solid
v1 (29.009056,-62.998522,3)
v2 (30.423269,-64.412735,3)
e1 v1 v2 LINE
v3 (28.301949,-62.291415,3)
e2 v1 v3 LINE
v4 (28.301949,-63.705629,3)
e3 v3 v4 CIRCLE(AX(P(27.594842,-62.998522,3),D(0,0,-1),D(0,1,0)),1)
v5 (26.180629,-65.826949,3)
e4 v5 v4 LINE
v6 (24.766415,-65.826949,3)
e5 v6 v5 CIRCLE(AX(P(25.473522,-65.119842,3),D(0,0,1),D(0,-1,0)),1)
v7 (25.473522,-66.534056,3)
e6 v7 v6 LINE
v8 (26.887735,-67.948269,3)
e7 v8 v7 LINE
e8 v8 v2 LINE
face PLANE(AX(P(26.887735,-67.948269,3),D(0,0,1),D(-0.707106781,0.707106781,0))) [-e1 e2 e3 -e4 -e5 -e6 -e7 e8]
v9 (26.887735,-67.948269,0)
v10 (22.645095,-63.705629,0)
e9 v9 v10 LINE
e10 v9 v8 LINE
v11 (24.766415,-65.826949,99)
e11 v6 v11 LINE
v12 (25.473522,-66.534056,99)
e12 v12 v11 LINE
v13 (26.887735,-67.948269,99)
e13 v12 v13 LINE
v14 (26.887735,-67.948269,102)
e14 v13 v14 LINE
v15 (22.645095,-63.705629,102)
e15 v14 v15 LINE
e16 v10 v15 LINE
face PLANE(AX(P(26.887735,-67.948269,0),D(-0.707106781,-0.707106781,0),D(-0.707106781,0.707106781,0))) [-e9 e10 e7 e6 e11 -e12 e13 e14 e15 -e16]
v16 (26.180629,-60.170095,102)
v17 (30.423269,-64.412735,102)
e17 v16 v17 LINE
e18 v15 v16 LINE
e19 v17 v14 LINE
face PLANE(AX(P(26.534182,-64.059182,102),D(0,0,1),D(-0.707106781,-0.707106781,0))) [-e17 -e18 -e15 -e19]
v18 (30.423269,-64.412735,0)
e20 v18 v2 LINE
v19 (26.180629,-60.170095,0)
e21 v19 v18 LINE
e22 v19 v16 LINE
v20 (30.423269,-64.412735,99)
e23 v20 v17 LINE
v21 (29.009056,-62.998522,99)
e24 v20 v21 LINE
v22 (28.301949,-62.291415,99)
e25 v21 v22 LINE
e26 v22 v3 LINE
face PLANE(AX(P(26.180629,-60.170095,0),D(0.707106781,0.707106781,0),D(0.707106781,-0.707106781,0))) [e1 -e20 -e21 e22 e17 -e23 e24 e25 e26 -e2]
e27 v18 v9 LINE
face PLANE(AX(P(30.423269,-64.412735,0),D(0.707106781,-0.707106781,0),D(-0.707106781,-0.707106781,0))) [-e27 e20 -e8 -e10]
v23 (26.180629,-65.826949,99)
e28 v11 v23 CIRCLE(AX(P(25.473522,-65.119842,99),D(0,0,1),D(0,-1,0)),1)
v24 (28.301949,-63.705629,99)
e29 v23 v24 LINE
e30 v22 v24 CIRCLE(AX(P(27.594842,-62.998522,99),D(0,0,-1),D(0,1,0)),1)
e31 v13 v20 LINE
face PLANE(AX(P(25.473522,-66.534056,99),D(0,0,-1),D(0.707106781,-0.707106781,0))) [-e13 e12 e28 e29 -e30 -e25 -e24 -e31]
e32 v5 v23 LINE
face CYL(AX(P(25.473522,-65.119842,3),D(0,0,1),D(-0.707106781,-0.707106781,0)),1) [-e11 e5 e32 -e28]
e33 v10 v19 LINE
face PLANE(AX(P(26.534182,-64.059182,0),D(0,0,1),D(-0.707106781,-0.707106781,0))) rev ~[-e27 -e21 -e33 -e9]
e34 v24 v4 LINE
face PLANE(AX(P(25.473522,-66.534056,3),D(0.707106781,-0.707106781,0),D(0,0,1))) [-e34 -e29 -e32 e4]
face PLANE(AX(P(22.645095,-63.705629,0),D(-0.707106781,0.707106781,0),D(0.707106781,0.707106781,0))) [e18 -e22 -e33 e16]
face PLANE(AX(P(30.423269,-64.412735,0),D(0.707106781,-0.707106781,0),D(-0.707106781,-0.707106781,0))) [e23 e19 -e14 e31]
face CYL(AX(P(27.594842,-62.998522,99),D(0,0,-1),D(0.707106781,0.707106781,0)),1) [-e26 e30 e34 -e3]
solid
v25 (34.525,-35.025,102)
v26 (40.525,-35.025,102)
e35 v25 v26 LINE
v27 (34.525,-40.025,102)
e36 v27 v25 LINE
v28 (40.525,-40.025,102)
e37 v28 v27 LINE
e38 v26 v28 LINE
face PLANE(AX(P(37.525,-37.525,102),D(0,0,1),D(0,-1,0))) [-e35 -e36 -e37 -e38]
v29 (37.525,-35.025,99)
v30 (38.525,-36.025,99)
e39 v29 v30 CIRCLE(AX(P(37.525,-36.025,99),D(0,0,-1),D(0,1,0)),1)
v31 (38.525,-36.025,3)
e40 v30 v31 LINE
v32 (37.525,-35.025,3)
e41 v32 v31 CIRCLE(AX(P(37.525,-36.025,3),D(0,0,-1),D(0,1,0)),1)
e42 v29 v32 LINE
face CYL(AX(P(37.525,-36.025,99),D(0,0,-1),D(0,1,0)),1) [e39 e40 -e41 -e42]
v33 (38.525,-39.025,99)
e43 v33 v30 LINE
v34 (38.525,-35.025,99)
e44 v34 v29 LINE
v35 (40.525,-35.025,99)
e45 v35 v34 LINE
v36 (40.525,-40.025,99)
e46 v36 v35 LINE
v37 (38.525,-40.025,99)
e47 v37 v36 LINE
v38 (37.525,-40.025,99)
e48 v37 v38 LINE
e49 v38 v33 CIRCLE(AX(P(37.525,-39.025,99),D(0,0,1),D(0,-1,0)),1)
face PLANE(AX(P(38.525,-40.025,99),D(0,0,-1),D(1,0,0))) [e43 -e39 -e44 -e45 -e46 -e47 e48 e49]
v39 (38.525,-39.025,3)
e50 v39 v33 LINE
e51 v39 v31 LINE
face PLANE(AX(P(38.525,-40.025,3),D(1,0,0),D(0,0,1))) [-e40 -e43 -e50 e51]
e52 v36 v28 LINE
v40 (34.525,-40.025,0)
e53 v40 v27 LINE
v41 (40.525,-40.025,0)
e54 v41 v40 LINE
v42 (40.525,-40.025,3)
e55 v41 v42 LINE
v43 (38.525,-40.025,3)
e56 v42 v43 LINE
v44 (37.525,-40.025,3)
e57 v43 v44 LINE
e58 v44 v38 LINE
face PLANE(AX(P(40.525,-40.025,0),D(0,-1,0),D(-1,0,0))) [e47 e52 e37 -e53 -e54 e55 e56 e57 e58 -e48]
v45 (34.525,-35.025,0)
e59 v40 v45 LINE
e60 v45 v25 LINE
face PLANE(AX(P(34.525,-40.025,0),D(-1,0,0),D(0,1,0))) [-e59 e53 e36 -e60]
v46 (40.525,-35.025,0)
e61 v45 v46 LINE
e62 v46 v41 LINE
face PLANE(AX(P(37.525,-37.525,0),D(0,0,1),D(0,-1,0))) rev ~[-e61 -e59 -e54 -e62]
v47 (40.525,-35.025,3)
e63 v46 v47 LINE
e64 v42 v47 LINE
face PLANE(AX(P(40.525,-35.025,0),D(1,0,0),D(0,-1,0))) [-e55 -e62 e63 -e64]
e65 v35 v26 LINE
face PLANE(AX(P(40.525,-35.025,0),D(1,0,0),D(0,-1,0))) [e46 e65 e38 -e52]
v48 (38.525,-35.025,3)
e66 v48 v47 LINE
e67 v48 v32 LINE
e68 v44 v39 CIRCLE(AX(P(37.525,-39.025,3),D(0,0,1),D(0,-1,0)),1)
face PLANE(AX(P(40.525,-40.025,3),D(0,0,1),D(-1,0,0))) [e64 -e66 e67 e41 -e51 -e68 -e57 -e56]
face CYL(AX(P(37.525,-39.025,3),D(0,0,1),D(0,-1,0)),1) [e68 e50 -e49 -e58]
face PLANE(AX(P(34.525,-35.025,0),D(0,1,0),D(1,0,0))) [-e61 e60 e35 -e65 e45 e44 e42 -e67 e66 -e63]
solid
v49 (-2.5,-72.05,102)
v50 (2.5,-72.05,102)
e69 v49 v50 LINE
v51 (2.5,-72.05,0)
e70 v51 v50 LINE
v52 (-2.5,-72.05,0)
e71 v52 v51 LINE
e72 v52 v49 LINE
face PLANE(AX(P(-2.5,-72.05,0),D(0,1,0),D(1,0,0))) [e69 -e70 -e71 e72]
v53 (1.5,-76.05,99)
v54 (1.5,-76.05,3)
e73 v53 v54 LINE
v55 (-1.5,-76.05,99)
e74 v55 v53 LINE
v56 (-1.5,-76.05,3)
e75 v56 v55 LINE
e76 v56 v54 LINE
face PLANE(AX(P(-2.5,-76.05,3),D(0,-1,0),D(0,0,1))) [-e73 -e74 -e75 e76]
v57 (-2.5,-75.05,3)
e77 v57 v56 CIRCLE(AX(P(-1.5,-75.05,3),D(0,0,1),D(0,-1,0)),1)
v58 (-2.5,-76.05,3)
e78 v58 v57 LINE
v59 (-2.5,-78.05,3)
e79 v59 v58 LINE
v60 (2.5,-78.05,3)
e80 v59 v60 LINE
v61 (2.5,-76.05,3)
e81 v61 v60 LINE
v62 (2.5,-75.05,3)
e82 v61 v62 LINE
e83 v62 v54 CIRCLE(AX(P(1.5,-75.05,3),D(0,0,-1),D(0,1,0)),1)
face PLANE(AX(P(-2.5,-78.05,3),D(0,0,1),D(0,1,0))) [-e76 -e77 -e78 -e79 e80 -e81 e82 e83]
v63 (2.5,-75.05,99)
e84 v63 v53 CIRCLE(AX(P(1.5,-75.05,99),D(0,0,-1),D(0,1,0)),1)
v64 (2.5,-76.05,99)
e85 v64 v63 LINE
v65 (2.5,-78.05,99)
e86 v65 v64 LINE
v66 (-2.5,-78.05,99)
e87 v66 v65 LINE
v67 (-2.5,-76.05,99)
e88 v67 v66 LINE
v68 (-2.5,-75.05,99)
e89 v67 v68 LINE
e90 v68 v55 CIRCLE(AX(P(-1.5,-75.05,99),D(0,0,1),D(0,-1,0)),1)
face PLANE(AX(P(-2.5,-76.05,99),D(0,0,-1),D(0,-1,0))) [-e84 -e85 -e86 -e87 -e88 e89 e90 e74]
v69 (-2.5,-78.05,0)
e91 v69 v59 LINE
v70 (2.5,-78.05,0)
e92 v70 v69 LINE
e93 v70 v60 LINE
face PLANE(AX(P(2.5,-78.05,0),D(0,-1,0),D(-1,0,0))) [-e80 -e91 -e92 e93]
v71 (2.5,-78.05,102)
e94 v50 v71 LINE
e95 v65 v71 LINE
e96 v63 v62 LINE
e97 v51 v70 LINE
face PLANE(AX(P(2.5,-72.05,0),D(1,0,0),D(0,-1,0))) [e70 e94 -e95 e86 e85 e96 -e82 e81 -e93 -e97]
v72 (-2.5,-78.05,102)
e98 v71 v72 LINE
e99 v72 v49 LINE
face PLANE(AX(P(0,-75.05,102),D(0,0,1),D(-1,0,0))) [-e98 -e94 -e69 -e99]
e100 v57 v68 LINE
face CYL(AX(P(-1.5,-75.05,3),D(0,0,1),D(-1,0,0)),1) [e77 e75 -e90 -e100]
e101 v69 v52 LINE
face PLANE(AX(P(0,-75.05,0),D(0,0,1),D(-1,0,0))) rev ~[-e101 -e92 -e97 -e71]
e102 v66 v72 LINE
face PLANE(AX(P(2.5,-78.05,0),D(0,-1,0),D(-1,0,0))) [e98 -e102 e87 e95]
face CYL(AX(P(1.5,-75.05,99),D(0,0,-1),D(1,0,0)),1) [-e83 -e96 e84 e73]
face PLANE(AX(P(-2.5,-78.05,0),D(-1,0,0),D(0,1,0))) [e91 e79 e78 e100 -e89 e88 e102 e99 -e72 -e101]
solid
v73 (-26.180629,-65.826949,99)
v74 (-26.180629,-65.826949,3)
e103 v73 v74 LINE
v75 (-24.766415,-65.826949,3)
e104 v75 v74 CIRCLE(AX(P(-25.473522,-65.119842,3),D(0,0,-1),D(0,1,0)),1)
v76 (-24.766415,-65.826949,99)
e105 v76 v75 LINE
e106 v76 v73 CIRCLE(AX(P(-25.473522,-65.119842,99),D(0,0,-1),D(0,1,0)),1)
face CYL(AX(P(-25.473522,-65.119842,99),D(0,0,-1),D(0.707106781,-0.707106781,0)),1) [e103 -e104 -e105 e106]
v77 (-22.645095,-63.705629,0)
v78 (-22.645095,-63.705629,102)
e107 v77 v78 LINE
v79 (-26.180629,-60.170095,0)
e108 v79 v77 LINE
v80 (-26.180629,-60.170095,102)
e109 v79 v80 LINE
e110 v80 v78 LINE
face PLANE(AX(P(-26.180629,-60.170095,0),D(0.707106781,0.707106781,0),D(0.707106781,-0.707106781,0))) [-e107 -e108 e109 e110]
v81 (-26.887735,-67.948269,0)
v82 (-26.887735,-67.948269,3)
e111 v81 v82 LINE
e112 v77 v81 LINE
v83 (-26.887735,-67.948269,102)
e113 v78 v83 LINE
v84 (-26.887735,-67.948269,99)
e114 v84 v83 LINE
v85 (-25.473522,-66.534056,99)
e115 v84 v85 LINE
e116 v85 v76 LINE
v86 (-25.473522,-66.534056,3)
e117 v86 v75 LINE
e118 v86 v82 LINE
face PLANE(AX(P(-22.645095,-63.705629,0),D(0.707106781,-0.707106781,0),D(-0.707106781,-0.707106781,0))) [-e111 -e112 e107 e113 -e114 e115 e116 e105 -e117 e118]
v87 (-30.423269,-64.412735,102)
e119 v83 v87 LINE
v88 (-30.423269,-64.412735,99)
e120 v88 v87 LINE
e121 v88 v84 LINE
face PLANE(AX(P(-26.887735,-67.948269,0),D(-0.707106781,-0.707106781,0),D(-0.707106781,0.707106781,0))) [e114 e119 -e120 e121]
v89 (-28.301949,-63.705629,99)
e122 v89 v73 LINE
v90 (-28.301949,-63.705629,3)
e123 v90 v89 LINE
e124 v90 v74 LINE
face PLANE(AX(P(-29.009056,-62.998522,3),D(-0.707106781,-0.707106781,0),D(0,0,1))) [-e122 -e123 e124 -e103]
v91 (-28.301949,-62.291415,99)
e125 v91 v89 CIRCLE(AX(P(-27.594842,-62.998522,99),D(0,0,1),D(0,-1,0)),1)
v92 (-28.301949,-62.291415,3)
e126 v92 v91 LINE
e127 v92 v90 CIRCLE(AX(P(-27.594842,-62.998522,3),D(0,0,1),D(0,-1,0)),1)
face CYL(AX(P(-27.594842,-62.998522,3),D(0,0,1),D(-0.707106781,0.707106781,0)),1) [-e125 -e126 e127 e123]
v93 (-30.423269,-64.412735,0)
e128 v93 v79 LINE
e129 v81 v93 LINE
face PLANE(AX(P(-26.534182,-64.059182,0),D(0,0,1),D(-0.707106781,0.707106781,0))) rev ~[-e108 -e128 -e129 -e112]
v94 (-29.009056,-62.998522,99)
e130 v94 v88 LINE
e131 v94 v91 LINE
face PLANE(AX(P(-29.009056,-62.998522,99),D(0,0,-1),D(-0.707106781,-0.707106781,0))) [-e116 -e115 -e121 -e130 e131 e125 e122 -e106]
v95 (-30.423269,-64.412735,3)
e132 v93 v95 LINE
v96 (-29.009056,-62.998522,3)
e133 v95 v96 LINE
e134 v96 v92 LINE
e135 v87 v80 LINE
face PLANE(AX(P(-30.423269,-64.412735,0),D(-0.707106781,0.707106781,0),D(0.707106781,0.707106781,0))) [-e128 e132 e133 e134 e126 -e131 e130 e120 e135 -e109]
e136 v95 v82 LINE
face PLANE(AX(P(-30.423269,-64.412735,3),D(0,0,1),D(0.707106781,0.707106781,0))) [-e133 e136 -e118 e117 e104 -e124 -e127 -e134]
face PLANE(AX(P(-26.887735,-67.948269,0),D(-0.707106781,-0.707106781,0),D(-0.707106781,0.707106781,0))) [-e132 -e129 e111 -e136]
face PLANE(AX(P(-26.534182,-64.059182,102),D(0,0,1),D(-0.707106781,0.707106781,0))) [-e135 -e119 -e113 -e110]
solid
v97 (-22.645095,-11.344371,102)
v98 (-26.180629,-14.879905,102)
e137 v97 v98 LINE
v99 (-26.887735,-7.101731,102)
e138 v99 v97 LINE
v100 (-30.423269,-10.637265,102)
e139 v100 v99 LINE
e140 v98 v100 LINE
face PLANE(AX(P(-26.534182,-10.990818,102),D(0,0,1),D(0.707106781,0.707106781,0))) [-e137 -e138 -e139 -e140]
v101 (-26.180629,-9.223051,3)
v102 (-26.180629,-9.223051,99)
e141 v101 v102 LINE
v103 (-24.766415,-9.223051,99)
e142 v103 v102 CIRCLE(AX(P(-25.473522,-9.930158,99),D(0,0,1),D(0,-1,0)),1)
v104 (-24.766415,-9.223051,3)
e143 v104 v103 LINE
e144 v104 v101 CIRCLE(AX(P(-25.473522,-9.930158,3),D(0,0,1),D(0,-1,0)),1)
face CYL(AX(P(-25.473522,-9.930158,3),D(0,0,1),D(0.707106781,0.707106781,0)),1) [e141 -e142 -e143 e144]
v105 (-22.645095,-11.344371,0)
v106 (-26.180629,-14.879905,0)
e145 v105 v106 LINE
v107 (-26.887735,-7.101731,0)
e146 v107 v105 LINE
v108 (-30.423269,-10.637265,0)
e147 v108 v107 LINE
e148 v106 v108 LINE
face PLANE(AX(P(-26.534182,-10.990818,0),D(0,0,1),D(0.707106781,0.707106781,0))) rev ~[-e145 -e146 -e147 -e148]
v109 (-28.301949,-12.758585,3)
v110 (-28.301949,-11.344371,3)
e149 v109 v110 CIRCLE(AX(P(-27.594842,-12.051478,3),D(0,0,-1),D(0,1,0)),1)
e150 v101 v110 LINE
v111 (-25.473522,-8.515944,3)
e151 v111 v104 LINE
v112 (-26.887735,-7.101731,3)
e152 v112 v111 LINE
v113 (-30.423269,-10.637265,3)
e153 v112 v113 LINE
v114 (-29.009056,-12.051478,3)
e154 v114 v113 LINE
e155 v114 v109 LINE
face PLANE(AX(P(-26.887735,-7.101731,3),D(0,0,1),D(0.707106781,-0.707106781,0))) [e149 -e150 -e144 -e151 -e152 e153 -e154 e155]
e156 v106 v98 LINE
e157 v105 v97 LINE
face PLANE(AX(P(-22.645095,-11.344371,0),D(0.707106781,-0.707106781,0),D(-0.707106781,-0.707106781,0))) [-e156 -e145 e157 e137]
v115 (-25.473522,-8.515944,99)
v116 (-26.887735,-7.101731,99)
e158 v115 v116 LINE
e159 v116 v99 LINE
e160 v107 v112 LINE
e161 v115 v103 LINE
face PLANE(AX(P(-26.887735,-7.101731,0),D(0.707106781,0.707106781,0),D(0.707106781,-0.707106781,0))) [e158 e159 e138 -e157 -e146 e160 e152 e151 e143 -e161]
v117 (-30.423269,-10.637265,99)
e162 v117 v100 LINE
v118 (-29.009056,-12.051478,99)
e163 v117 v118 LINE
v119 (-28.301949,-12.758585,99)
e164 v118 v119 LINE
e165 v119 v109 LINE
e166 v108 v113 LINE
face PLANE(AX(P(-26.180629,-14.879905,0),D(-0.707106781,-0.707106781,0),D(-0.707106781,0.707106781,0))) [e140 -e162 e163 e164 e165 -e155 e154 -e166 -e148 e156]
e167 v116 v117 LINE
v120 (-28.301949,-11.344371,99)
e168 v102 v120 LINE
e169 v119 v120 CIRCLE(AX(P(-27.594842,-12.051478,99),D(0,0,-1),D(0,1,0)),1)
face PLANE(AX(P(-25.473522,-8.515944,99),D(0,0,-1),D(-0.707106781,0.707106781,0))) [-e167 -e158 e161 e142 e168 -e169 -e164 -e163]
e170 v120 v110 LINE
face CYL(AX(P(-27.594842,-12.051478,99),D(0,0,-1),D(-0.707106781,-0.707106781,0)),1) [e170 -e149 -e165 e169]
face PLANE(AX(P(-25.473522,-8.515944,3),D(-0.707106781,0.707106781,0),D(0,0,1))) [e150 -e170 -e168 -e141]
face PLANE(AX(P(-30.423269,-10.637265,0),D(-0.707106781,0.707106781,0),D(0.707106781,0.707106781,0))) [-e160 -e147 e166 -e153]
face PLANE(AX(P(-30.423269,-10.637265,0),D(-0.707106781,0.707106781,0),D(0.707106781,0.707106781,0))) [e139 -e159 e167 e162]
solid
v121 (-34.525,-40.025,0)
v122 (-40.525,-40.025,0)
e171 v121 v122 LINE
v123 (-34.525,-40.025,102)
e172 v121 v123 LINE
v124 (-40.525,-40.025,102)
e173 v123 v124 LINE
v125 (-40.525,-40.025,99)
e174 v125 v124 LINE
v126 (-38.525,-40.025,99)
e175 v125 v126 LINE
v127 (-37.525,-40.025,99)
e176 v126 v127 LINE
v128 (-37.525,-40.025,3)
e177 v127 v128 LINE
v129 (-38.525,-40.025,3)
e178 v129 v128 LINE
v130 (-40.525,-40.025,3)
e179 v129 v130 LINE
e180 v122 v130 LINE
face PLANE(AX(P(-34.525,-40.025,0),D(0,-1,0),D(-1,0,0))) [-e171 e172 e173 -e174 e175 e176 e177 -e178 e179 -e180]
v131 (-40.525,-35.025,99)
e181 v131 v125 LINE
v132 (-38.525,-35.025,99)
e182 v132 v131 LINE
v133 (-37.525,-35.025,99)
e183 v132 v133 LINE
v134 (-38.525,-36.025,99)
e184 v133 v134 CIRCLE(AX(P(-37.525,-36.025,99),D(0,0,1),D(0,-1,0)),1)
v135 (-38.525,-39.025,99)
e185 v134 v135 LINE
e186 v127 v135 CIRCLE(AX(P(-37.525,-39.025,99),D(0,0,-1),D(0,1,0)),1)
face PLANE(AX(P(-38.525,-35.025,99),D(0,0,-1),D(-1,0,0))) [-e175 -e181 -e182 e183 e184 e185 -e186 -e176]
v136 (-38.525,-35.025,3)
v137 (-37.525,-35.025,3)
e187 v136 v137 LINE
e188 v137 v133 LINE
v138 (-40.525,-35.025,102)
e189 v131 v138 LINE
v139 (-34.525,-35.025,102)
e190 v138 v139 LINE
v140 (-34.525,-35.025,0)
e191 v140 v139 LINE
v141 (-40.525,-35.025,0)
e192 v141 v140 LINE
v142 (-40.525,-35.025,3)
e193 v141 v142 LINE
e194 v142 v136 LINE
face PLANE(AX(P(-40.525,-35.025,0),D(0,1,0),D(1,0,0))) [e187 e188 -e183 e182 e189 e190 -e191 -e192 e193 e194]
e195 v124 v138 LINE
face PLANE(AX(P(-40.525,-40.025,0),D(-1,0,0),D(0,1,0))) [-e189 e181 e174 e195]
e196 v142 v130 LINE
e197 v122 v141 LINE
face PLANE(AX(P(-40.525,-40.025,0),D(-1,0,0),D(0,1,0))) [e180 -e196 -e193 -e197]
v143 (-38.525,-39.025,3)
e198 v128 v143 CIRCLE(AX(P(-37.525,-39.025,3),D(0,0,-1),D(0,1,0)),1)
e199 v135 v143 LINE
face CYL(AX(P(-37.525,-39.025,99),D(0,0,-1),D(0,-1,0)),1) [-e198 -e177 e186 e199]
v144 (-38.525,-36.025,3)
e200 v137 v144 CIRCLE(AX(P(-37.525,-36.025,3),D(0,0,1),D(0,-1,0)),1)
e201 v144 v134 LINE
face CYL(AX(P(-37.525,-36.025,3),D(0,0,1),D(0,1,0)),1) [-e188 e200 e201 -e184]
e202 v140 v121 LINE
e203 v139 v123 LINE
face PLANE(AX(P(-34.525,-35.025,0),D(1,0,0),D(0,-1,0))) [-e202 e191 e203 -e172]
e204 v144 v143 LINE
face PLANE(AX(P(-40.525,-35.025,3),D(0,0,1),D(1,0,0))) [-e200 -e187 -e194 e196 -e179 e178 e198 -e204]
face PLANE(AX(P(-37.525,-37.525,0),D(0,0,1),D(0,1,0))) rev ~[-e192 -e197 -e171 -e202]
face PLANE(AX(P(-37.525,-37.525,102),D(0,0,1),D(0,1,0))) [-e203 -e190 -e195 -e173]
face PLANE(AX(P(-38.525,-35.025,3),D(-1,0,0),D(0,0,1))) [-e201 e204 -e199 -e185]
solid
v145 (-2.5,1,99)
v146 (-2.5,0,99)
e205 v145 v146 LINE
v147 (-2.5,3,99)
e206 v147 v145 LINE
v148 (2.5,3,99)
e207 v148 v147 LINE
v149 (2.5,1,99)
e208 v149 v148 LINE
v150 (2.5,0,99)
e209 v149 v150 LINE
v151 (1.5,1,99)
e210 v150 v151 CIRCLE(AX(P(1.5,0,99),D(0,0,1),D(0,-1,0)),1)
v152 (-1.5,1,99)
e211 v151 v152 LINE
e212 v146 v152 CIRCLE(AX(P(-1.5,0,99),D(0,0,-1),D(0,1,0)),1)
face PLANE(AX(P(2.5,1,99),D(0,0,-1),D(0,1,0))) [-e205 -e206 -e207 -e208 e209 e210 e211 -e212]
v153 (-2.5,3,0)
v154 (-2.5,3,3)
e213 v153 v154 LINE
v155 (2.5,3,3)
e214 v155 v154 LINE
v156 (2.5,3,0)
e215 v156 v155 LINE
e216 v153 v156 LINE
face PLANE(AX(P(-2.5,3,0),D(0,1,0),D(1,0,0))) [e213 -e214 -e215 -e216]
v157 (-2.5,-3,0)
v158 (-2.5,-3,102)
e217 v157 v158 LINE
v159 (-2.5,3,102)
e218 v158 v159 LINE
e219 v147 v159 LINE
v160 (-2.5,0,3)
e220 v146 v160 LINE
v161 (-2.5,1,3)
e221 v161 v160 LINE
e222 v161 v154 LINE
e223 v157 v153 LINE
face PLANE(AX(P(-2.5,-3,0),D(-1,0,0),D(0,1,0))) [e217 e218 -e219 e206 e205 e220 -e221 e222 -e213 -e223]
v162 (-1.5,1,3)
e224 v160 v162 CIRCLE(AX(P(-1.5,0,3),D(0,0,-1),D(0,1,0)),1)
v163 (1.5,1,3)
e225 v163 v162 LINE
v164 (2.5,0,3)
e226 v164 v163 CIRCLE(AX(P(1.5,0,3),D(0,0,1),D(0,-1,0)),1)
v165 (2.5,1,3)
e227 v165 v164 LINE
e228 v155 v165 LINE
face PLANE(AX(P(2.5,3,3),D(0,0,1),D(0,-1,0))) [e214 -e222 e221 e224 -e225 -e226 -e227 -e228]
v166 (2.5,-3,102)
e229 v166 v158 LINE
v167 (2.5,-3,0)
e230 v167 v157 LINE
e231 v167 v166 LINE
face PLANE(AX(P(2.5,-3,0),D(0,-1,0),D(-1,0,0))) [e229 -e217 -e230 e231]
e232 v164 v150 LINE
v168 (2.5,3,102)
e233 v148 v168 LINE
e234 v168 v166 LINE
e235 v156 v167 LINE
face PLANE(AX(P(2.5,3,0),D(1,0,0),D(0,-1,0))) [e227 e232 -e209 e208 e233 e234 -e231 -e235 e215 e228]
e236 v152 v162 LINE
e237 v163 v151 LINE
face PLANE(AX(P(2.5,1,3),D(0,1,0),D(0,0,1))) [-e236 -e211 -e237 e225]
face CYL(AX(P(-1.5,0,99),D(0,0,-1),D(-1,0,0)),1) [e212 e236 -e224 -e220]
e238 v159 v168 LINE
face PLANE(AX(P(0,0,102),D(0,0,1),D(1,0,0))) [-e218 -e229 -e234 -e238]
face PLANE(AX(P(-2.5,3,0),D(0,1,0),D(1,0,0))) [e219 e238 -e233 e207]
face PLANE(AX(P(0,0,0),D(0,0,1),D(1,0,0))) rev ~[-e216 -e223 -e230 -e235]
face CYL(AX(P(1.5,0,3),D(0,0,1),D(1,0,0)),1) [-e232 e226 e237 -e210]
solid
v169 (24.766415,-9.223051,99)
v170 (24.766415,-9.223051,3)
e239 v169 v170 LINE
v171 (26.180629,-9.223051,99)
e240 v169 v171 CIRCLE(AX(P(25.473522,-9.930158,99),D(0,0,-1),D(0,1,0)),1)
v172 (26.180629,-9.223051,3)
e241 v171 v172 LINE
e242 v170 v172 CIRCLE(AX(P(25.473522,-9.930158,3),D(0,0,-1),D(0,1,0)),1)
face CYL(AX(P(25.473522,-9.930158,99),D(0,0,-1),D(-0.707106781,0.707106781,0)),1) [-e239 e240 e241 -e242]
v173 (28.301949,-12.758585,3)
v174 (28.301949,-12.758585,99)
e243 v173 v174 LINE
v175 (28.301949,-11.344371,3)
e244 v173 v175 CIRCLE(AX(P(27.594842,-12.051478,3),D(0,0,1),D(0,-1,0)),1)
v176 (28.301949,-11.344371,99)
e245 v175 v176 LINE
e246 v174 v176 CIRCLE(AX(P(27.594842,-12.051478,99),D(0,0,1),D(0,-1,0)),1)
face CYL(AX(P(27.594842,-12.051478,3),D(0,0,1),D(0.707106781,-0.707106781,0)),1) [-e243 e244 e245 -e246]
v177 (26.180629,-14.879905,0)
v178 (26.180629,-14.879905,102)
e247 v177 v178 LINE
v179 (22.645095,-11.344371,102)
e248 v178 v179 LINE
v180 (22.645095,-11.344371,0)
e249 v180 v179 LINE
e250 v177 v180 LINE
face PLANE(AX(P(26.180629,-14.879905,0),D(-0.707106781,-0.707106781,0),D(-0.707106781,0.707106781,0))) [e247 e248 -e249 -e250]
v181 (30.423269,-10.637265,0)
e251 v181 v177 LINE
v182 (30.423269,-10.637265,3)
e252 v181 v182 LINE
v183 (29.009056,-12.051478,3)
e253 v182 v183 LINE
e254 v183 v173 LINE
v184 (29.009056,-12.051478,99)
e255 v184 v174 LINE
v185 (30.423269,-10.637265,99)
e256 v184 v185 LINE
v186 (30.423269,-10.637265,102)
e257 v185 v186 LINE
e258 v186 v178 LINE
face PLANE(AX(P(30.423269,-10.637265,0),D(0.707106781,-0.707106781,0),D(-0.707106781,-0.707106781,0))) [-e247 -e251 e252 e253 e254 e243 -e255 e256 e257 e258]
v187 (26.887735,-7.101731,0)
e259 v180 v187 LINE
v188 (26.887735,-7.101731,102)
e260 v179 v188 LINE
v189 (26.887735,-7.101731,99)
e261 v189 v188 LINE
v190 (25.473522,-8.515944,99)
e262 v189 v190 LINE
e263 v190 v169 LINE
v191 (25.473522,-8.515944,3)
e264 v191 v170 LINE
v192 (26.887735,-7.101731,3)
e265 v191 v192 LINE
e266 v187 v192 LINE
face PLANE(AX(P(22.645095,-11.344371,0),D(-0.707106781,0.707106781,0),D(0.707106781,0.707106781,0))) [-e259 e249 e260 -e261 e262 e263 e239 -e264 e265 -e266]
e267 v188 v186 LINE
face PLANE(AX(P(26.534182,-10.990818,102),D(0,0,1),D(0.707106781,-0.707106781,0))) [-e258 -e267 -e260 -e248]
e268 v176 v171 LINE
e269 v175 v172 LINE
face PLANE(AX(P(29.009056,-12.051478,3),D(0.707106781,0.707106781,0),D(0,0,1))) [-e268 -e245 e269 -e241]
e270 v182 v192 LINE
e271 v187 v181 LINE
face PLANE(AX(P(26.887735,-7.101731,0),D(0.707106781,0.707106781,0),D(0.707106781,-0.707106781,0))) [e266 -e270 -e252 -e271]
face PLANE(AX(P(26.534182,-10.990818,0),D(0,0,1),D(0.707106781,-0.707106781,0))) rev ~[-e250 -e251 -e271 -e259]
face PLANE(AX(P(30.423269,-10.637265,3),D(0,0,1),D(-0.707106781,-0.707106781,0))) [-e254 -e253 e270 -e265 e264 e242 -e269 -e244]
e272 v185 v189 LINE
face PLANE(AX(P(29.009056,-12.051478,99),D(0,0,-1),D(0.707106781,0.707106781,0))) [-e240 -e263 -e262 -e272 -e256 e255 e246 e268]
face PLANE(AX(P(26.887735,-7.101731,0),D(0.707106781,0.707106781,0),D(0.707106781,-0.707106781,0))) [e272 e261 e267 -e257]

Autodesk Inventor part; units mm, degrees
ref_plane "YZ Plane" through (0, 0, 0) normal (1, 0, 0) x (0, 1, 0)
ref_plane "XZ Plane" through (0, 0, 0) normal (0, 1, 0) x (-1, 0, 0)
ref_plane "XY Plane" through (0, 0, 0) normal (0, 0, 1) x (1, 0, 0)
sketch "Sketch1" plane through (0, 0, 0) normal (0, 0, 1) x (1, 0, 0)
  line L0 (-2.5, 3) -> (2.5, 3)
  line L1 (2.5, 3) -> (2.5, -3)
  line L2 (2.5, -3) -> (-2.5, -3)
  line L3 (-2.5, -3) -> (-2.5, 3)
  point P0 (0, 0)
  dimension "d0" = 5
  dimension "d1" = 6
  dimension "d2" = 3
  dimension "d3" = 2.5
extrude "Extrusion1" add sketch "Sketch1" along normal blind 102
sketch "Sketch2" plane through (2.5, -3, 0) normal (1, 0, 0) x (0, 0, -1)
  line L0 (0, 6) -> (-102, 6) projected
  line L1 (-99, 6) -> (-3, 6)
  line L2 (-3, 6) -> (-3, 4)
  line L3 (-3, 4) -> (-99, 4)
  line L4 (-99, 4) -> (-99, 6)
  point P0 (0, 3)
  point P1 (-3, 6)
  dimension "d6" = 3
  dimension "d7" = 96
  dimension "d8" = 2
extrude "Extrusion2" cut sketch "Sketch2" against normal through all
fillet "Fillet1" radius 1 2 edges at (2.5, 1, 51) (-2.5, 1, 51)
sketch3d "3D Sketch1"
pattern_circular "Circular Pattern1" count 8 over 360 about axis through (0, -37.525, 102) along (0, 0, -1) of "Extrusion1", "Extrusion2", "Fillet1"
equation "\"d2\" = 0.5 * d1"
equation "\"d3\" = 0.5 * d0"
properties part number "1402B_Bias Coil Spacer_V1" material "ABS Plastic"
